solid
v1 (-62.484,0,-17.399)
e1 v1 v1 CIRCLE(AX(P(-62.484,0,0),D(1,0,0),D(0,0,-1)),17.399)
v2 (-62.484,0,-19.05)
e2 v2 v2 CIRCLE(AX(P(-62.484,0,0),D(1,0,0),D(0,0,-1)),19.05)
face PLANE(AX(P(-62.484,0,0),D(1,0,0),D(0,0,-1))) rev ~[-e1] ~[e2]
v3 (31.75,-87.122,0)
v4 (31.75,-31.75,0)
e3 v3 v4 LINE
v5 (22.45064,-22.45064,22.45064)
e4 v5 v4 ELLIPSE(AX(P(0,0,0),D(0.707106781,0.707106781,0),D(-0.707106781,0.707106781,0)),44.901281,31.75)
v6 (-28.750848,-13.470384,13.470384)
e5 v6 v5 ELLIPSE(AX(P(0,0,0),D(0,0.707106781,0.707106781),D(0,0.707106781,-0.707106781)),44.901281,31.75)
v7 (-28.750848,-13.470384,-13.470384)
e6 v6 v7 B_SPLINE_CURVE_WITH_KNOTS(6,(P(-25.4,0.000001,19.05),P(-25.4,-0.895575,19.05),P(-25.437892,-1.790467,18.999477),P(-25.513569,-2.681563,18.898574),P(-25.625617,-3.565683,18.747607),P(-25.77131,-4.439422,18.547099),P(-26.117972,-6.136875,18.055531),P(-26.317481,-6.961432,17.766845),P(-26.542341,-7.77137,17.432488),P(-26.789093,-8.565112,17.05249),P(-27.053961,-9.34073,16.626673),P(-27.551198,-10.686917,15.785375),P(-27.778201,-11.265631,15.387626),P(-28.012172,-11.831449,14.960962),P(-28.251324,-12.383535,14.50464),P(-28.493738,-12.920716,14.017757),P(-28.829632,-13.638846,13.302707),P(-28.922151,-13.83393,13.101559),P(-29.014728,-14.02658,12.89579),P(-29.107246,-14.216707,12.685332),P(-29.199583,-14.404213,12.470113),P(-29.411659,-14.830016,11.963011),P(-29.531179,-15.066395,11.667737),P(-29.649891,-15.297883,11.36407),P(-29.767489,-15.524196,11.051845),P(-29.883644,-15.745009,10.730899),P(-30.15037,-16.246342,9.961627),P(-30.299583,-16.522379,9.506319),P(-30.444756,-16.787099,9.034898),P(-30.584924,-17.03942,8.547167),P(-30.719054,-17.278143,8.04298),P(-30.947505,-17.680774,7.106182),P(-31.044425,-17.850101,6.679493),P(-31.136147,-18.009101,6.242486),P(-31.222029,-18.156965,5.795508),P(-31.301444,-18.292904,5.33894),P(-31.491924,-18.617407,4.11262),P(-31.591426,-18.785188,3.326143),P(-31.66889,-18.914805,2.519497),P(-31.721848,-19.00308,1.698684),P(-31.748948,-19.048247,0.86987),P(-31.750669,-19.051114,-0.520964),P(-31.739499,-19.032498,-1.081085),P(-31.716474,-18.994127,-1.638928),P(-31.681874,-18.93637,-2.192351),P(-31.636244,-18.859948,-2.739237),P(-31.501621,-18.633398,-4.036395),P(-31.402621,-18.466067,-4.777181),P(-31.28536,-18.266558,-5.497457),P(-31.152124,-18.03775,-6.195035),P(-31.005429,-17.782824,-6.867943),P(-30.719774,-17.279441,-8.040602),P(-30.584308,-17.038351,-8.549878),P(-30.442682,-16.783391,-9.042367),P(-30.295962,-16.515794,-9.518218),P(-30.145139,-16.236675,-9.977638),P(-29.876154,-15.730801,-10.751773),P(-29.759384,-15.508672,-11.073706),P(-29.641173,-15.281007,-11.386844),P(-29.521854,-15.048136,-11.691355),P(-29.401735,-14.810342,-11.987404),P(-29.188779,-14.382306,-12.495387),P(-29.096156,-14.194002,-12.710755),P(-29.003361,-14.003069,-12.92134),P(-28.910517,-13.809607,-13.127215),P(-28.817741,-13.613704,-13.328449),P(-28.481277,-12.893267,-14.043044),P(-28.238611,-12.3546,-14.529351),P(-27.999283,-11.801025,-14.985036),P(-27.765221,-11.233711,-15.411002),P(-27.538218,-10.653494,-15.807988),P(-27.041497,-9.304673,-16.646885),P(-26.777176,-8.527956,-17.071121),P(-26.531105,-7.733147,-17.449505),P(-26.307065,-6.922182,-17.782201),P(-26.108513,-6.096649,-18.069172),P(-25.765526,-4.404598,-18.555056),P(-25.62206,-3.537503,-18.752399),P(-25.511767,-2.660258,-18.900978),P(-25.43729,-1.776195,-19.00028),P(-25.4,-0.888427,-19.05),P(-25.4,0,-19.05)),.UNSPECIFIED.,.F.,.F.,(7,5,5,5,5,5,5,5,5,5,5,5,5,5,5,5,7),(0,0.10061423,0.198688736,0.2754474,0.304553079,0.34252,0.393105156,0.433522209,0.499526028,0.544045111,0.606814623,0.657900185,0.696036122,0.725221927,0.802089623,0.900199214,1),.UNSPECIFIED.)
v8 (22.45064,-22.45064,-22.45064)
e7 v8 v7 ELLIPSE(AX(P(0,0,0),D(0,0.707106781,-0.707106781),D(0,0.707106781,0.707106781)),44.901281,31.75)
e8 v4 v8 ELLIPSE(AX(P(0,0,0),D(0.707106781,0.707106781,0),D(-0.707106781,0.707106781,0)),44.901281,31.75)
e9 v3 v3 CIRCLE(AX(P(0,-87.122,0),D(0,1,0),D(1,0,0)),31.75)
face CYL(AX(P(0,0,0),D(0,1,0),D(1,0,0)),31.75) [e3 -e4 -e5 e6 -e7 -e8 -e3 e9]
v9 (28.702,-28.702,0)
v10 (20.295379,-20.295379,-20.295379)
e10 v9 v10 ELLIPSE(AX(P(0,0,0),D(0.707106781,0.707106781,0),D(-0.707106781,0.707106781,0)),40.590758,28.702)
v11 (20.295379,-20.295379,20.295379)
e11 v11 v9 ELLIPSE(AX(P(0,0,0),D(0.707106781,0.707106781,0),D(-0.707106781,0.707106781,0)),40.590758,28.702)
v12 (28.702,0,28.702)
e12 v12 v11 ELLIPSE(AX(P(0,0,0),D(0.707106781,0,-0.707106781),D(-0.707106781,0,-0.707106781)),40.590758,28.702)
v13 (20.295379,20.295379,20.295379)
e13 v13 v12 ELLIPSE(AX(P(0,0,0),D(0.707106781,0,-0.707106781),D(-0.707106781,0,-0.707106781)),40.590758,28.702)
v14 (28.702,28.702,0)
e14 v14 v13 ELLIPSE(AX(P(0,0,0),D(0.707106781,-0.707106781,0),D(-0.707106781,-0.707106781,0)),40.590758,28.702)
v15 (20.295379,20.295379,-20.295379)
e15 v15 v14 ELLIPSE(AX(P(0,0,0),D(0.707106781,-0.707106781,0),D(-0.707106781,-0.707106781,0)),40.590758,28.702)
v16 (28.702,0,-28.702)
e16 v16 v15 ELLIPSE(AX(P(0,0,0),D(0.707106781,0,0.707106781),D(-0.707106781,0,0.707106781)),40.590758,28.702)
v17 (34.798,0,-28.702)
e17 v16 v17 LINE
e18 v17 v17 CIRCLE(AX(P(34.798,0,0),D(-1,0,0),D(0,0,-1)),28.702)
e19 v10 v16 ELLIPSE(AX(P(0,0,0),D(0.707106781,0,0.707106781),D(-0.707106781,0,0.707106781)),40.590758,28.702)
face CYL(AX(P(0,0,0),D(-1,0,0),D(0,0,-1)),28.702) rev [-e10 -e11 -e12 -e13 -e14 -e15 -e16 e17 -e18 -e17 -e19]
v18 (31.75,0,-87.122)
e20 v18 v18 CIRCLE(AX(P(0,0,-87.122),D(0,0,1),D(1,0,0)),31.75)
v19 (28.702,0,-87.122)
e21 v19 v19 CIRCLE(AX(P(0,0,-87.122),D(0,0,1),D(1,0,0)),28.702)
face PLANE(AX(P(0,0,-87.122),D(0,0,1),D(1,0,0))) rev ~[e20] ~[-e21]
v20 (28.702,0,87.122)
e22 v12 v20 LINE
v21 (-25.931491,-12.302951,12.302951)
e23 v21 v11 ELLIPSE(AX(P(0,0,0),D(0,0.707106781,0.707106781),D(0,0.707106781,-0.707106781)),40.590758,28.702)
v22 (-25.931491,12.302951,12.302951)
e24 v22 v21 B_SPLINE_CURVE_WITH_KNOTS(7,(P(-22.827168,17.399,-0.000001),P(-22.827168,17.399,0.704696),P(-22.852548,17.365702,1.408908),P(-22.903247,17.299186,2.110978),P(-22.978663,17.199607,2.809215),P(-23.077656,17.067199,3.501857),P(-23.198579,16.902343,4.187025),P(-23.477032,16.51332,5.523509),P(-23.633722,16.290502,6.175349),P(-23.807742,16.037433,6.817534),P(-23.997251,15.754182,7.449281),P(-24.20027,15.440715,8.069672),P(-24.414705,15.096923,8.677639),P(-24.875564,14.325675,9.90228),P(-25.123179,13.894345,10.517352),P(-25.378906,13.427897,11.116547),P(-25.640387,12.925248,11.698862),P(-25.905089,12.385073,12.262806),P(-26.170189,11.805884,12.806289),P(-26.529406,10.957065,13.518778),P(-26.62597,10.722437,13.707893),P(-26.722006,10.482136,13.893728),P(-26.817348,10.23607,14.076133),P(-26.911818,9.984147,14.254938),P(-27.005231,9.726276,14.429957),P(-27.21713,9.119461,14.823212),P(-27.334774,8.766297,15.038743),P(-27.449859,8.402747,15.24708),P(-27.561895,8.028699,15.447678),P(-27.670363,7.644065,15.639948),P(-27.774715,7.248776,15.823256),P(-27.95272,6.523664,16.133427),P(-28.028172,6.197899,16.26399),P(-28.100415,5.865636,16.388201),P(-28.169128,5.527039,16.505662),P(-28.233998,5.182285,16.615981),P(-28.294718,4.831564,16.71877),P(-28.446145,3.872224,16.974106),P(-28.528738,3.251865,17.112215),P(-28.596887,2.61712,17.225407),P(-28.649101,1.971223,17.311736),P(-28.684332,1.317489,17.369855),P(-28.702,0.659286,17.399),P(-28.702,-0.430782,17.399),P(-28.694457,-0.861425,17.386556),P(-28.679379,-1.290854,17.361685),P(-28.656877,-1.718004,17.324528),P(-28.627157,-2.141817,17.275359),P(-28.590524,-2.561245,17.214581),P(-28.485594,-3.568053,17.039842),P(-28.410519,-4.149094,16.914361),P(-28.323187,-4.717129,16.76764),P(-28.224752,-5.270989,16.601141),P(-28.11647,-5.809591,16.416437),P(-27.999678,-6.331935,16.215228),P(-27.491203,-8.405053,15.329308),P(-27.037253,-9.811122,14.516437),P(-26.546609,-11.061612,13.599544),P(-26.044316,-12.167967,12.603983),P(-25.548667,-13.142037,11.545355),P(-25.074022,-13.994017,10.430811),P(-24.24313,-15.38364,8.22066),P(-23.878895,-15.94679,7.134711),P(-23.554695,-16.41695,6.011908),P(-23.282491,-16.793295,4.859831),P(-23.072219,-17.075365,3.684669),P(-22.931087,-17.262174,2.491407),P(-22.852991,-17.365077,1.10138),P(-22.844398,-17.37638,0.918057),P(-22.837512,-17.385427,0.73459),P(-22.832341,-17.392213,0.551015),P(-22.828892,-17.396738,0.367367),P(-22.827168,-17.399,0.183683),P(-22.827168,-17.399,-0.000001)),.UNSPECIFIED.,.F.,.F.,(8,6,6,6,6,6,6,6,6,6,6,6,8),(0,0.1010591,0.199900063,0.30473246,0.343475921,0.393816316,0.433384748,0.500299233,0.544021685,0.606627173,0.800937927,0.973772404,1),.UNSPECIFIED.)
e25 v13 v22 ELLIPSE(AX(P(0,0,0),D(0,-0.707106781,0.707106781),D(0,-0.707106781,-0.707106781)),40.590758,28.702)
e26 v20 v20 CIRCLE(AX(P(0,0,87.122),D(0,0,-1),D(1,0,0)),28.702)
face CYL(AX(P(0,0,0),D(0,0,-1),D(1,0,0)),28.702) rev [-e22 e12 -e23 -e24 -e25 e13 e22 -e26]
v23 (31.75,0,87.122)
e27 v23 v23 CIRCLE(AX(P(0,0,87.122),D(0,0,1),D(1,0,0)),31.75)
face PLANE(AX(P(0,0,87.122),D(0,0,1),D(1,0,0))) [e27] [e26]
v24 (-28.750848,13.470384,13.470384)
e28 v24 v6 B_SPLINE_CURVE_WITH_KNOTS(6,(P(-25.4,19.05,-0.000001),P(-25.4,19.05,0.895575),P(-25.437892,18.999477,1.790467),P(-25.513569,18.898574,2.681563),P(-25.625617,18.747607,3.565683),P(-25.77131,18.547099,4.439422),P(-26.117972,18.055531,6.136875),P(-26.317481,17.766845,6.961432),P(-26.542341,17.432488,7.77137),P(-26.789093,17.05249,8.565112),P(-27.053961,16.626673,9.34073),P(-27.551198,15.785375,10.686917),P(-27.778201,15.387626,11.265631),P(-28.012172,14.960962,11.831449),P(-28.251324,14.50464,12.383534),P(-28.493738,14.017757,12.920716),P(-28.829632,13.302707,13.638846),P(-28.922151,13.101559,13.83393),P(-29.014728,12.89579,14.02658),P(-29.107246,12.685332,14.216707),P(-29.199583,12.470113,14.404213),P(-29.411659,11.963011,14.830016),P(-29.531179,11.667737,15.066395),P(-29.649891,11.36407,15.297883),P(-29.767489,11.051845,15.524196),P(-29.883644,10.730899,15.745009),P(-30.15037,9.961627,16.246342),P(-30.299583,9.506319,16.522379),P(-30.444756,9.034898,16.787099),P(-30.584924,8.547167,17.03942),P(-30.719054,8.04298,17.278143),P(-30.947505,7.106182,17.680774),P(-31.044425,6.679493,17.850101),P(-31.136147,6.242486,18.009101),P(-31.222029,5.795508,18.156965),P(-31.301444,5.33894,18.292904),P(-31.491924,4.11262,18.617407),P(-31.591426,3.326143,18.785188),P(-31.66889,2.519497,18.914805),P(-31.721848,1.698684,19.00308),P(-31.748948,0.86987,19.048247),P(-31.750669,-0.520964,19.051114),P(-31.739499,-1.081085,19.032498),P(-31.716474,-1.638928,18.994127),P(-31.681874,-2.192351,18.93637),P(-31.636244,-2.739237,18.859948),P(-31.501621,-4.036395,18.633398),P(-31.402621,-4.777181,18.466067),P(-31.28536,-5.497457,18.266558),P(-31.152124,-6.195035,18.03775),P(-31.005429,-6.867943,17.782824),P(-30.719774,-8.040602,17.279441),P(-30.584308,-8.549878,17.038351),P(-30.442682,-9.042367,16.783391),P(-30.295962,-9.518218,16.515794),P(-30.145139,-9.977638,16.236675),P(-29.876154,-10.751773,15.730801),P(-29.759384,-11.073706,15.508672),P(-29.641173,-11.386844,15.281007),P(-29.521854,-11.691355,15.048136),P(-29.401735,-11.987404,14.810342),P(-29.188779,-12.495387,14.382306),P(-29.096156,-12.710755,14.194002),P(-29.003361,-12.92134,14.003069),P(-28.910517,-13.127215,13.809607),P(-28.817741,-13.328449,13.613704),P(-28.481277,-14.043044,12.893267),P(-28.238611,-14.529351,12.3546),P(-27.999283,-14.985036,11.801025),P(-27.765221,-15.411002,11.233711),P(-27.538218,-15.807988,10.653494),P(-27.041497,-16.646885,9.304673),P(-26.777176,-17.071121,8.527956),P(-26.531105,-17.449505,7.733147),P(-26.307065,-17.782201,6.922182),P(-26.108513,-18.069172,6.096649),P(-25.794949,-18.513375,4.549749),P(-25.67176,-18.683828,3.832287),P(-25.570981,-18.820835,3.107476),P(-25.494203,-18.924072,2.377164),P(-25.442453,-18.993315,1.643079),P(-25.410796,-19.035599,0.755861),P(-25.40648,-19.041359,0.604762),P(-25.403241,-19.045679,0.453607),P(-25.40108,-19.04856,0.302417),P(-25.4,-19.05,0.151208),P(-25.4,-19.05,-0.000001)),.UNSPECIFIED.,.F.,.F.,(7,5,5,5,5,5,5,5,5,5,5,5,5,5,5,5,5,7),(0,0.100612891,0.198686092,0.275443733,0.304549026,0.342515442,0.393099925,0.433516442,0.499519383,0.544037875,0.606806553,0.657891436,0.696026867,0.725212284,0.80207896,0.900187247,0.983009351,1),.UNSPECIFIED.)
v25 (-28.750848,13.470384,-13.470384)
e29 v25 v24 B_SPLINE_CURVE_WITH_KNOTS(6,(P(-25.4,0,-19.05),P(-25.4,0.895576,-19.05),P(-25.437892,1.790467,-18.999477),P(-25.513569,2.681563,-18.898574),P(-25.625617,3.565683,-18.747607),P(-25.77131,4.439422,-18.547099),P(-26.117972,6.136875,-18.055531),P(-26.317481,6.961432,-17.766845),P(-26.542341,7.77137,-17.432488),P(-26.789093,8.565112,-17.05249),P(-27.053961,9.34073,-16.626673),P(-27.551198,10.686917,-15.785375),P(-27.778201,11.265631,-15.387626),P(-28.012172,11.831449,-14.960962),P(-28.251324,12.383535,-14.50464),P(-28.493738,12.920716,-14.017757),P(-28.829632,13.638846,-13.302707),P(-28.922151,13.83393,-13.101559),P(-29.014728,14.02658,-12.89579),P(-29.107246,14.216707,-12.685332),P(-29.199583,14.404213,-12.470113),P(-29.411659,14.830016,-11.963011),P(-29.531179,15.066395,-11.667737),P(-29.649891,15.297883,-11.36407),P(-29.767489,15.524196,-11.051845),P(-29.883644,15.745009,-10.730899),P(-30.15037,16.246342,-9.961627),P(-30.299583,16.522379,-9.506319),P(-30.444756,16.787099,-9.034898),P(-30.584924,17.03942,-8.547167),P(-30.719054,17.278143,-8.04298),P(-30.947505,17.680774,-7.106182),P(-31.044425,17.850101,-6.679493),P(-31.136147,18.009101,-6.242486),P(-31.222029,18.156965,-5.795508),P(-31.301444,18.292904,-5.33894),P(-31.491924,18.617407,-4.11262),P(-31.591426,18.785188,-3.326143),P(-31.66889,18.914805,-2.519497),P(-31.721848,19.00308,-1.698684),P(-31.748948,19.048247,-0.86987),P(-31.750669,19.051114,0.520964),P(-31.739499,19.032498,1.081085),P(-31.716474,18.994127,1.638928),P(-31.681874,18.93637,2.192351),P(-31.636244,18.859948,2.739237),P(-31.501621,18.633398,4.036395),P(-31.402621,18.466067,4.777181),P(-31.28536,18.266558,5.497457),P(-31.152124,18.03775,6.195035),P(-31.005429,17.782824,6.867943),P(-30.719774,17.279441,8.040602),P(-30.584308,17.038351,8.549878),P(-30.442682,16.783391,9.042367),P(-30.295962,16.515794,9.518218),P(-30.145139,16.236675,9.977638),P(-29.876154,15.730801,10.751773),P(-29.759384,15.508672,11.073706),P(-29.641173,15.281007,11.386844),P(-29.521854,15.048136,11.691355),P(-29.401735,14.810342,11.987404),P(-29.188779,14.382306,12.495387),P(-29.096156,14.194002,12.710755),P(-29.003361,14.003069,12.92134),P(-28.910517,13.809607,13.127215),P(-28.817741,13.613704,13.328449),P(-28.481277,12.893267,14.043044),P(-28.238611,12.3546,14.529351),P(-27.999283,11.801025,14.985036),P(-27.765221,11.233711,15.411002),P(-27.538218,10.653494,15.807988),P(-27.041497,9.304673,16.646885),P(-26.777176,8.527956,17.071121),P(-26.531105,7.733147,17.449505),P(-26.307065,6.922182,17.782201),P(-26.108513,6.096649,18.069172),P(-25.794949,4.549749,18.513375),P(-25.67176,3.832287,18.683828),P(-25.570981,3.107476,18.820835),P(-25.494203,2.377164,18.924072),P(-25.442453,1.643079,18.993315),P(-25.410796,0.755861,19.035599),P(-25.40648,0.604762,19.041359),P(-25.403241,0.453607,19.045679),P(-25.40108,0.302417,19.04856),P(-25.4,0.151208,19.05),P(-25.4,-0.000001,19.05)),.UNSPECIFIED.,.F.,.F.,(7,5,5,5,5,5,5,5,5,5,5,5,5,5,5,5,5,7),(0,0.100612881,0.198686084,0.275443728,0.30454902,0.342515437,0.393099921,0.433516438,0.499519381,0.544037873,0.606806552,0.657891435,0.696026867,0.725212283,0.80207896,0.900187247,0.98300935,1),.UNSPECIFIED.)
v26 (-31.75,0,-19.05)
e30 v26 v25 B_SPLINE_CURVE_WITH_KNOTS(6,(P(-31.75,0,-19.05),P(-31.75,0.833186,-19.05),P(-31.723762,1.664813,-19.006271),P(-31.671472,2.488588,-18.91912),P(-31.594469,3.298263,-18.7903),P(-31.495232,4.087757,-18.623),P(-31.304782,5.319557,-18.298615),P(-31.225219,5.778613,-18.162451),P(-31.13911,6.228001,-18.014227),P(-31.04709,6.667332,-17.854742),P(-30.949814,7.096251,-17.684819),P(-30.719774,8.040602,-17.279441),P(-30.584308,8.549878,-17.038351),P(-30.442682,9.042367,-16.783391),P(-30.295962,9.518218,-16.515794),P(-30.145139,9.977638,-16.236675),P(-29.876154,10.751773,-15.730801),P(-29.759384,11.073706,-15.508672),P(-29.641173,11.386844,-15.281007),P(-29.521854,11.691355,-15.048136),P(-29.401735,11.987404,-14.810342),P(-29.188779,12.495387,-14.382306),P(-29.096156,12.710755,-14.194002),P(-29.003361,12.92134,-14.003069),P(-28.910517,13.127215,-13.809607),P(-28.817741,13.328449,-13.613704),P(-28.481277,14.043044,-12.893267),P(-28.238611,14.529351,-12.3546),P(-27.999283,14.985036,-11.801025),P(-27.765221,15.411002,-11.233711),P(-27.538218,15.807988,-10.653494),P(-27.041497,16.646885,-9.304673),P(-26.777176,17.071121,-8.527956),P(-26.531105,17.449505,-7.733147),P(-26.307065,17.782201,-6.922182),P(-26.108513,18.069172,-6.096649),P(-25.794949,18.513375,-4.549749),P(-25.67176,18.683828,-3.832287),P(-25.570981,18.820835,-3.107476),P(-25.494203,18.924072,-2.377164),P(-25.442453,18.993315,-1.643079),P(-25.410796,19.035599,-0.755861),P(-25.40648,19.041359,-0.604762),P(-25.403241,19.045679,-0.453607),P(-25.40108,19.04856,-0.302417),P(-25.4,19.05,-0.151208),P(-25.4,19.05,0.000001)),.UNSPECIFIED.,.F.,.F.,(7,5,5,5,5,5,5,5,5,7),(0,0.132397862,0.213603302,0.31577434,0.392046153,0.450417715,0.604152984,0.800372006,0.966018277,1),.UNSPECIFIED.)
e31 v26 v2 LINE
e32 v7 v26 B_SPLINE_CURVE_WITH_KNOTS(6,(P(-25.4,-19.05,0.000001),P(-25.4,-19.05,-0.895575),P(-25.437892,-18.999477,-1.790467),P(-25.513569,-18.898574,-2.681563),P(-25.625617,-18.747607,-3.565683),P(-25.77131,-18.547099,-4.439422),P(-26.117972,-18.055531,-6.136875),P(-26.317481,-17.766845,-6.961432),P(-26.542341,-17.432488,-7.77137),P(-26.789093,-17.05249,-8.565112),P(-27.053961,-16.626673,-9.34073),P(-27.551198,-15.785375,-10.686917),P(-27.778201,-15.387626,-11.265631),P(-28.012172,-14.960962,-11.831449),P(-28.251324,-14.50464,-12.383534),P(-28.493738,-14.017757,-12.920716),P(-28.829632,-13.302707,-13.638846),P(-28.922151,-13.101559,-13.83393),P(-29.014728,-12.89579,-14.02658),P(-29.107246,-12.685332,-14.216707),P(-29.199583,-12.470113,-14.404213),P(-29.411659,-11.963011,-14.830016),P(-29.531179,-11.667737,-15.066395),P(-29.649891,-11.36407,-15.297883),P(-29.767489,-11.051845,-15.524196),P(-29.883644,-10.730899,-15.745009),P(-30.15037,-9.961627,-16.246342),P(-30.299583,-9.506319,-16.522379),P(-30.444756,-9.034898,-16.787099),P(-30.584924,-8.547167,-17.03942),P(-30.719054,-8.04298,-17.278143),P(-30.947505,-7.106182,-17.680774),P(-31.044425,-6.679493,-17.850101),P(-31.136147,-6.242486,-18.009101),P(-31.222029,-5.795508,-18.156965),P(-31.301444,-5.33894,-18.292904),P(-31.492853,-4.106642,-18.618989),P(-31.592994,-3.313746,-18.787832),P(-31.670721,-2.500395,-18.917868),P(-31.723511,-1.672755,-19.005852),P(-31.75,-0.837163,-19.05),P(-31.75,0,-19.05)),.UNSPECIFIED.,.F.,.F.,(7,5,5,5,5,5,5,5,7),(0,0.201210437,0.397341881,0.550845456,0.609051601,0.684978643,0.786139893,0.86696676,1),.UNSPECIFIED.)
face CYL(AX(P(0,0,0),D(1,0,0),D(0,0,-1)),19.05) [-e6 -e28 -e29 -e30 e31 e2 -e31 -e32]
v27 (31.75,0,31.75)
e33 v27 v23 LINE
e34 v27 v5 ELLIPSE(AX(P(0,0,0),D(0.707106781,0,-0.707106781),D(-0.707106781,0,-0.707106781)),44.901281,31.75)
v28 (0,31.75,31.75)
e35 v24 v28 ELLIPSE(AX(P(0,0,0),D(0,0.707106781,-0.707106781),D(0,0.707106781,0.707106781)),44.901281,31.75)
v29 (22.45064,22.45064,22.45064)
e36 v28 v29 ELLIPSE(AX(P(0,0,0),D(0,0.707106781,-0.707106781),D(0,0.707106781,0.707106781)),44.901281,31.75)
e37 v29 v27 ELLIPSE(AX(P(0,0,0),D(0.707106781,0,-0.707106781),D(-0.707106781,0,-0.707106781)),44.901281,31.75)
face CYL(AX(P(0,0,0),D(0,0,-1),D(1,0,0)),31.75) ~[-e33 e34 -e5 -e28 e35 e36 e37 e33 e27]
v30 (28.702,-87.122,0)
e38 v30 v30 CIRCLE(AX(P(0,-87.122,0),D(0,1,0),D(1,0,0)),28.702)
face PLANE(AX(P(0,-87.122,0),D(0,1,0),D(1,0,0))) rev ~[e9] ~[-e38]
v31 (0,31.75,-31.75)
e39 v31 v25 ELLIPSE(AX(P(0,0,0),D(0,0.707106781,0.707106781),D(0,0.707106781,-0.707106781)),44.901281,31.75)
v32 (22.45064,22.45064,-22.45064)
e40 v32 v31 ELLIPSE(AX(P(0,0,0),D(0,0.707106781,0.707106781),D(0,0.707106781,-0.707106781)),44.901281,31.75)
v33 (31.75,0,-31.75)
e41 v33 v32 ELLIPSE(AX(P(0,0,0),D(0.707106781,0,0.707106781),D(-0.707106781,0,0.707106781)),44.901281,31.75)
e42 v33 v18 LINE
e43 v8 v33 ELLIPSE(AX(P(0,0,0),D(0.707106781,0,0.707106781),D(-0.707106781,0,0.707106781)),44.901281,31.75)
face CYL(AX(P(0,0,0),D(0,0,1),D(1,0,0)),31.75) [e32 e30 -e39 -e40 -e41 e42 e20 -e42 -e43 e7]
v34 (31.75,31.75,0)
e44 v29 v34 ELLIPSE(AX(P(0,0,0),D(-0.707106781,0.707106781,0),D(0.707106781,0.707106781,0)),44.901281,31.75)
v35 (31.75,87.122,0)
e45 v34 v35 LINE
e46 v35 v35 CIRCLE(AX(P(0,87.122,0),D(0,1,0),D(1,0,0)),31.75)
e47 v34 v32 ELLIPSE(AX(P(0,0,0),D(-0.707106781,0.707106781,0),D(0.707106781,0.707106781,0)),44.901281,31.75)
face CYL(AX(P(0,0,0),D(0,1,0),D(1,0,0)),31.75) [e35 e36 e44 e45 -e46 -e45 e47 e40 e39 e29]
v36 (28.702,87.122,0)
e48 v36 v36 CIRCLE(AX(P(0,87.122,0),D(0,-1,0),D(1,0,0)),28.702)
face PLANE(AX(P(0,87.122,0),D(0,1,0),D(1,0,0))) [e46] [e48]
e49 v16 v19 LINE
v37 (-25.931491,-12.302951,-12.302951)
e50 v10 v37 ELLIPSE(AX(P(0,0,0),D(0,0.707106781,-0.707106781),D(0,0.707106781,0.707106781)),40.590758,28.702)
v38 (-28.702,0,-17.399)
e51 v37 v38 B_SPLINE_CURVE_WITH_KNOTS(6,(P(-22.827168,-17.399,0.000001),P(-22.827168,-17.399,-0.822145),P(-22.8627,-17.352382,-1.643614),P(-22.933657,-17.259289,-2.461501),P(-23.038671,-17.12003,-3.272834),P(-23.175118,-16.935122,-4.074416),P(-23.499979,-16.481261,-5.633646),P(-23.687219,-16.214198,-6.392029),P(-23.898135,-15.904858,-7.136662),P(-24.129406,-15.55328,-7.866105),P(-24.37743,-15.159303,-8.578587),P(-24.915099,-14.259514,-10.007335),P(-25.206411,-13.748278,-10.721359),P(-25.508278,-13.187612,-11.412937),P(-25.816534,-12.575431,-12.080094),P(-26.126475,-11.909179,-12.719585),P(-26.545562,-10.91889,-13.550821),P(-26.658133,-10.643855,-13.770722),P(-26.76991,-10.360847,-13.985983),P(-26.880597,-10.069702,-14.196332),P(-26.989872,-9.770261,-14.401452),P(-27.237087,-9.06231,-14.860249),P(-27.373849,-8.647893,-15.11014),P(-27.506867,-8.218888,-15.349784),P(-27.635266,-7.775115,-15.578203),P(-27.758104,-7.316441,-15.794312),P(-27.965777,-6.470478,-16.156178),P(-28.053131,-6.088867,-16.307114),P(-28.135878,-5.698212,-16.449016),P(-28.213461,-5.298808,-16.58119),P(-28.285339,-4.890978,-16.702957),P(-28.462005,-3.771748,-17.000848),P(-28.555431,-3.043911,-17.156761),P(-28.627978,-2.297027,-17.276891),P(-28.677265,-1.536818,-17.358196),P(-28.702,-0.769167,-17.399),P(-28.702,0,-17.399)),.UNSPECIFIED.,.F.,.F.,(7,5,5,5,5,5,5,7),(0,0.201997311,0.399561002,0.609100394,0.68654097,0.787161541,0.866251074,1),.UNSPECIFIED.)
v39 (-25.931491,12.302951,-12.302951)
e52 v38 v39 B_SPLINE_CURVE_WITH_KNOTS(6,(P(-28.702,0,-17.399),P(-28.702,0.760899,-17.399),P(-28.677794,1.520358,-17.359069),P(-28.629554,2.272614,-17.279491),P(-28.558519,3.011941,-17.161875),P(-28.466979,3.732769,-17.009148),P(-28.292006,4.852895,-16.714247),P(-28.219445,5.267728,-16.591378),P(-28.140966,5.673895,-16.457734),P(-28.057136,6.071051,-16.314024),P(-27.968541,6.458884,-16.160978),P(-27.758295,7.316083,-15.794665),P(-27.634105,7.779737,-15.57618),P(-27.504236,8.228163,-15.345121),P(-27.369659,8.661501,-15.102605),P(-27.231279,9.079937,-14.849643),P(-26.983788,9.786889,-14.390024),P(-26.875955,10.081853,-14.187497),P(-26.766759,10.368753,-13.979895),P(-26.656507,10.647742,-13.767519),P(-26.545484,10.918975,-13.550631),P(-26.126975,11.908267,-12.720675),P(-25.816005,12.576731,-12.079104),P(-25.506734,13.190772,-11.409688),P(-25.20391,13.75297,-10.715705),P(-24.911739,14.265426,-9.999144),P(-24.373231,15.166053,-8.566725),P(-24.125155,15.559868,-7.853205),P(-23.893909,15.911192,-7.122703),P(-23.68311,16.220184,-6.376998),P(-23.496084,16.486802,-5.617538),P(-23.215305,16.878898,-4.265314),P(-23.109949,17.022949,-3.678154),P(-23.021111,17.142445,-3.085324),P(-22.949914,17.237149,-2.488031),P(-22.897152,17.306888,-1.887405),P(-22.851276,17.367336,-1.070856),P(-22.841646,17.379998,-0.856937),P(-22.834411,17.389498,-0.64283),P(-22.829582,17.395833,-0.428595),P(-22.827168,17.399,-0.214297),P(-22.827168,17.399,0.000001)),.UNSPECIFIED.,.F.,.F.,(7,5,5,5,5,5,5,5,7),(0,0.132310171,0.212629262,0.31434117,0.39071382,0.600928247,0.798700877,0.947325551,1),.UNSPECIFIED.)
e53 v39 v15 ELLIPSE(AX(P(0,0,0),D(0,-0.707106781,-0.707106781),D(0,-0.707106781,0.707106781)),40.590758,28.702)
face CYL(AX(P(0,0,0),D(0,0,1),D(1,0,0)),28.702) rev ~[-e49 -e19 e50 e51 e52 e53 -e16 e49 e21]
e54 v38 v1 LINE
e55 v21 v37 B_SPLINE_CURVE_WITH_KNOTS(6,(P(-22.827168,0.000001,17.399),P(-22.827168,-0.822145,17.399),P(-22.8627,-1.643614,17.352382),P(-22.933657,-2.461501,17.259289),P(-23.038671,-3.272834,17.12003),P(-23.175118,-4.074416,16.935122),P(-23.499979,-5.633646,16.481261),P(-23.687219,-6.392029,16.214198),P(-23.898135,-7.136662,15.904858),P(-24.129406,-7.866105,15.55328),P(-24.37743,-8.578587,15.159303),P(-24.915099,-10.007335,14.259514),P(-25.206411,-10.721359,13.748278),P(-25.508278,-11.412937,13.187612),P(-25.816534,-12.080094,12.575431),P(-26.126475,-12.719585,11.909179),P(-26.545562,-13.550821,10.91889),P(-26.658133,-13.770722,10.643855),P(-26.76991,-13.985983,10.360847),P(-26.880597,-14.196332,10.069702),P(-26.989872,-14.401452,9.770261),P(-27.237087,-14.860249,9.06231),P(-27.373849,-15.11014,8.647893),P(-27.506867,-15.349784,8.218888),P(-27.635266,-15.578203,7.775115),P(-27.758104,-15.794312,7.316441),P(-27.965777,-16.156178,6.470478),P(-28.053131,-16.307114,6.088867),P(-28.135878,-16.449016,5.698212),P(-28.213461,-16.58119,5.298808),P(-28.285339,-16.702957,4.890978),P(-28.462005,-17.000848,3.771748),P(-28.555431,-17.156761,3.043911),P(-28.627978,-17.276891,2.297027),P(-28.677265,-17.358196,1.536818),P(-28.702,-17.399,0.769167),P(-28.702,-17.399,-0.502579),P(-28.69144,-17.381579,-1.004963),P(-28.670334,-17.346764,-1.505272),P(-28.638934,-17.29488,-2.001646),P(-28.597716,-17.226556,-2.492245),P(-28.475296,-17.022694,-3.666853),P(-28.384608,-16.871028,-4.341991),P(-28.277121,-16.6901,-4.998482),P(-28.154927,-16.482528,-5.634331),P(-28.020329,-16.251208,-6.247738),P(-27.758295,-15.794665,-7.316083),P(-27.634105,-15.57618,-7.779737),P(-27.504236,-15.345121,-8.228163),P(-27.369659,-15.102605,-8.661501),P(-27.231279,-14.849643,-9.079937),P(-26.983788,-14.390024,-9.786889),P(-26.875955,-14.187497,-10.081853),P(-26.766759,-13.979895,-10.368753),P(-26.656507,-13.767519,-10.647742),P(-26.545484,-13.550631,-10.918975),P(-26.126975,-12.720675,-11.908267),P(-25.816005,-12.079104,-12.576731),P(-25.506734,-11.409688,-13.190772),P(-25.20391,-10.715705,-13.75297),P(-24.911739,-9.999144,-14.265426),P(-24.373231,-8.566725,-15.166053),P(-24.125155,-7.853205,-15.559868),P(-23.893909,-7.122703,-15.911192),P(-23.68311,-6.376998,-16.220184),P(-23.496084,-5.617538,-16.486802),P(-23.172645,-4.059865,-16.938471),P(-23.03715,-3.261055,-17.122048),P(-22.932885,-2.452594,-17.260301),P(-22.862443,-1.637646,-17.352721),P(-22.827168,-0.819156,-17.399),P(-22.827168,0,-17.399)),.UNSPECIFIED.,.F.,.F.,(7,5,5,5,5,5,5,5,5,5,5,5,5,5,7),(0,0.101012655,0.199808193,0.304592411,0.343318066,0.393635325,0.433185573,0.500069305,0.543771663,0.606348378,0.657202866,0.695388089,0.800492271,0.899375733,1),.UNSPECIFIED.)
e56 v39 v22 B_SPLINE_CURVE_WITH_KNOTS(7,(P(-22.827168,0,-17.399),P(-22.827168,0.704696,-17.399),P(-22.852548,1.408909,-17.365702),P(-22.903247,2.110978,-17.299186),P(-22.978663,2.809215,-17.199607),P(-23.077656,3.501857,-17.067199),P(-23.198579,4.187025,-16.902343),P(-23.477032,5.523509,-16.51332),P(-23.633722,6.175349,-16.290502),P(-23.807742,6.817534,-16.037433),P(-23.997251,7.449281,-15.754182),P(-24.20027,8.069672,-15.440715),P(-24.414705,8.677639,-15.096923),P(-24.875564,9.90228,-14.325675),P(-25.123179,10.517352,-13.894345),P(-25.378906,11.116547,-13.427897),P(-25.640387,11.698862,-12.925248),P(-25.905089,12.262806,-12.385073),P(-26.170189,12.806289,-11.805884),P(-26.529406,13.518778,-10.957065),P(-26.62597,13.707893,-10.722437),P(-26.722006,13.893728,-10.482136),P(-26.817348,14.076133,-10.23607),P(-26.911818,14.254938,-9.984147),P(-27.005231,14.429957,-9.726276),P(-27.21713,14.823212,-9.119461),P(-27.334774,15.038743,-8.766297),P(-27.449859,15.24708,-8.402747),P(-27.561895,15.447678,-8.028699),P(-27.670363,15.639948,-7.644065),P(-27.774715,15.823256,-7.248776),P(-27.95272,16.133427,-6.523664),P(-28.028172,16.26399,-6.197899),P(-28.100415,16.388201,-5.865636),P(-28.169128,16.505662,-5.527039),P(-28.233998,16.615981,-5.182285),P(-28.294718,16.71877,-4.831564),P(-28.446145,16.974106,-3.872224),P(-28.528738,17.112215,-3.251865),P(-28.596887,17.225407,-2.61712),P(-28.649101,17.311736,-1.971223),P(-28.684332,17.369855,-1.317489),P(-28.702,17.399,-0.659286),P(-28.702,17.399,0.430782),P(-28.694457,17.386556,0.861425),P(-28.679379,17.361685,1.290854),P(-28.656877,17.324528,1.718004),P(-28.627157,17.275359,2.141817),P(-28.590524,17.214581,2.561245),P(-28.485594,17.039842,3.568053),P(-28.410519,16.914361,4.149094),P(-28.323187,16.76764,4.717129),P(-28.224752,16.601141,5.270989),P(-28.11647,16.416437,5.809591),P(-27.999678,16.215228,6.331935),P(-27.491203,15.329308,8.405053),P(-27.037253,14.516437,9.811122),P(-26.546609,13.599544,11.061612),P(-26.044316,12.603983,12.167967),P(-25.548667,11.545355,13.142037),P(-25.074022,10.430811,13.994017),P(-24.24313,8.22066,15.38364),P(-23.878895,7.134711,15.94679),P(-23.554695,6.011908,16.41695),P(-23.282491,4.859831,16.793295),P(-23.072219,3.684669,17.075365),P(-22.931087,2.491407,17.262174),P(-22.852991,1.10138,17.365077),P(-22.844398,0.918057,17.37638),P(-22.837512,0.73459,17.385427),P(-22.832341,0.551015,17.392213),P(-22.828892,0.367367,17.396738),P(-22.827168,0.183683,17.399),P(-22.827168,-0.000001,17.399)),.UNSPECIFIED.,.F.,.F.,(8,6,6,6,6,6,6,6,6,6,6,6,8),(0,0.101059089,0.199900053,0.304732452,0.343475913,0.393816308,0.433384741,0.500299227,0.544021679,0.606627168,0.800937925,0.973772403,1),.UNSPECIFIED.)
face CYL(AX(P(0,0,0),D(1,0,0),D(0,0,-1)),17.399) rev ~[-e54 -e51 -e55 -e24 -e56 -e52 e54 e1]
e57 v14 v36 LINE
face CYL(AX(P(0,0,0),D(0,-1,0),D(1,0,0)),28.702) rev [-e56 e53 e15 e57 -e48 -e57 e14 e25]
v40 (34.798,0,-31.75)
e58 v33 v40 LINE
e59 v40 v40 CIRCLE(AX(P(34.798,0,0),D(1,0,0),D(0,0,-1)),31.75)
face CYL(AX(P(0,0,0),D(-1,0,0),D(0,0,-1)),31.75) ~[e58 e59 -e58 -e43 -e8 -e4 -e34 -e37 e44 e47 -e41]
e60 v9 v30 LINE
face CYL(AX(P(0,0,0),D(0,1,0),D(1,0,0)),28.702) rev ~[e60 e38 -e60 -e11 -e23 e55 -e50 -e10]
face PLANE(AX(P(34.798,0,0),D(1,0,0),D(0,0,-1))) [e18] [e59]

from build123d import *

# Parameters (mm, degrees)
SKETCH1_R               = 31.75
EXTRUDE3_DEPTH          = 87.122
EXTRUDE3_DEPTH_BACK     = 87.122
SKETCH4_R               = 31.75
EXTRUDE4_DEPTH          = 87.122
EXTRUDE4_DEPTH_BACK     = 87.122
SKETCH6_R               = 31.75
EXTRUDE5_DEPTH          = 34.798
SKETCH7_R               = 19.05
EXTRUDE6_DEPTH          = 62.484
SKETCH9_R               = 28.702
CUT_EXTRUDE1_DEPTH      = 88.1220001
CUT_EXTRUDE1_DEPTH_BACK = 88.1220001
SKETCH10_R              = 28.702
CUT_EXTRUDE2_DEPTH      = 88.1220001
CUT_EXTRUDE2_DEPTH_BACK = 88.1220001
SKETCH11_R              = 28.702
CUT_EXTRUDE3_DEPTH      = 35.798
SKETCH12_R              = 17.399
CUT_EXTRUDE4_DEPTH      = 63.4840001


with BuildPart() as part:
    # Sketch1 → Extrude3 (new body, two sides)
    with BuildSketch(Plane(origin=(0, 0, 0), x_dir=(1, 0, 0), z_dir=(0, 1, 0))) as extrude3_sk:
        Circle(SKETCH1_R)
    extrude(amount=EXTRUDE3_DEPTH)
    extrude(extrude3_sk.sketch, amount=-EXTRUDE3_DEPTH_BACK)

    # Sketch4 → Extrude4 (add, two sides)
    with BuildSketch(Plane.XY) as extrude4_sk:
        Circle(SKETCH4_R)
    extrude(amount=EXTRUDE4_DEPTH)
    extrude(extrude4_sk.sketch, amount=-EXTRUDE4_DEPTH_BACK)

    # Sketch6 → Extrude5 (add)
    with BuildSketch(Plane(origin=(0, 0, 0), x_dir=(0, 0, -1), z_dir=(1, 0, 0))):
        Circle(SKETCH6_R)
    extrude(amount=EXTRUDE5_DEPTH)

    # Sketch7 → Extrude6 (add)
    with BuildSketch(Plane(origin=(0, 0, 0), x_dir=(0, 0, -1), z_dir=(1, 0, 0))):
        Circle(SKETCH7_R)
    extrude(amount=-EXTRUDE6_DEPTH)

    # Sketch9 → Cut-Extrude1 (cut, two sides)
    with BuildSketch(Plane(origin=(0, 0, 0), x_dir=(1, 0, 0), z_dir=(0, 1, 0))) as cut_extrude1_sk:
        Circle(SKETCH9_R)
    extrude(amount=CUT_EXTRUDE1_DEPTH, mode=Mode.SUBTRACT)
    extrude(cut_extrude1_sk.sketch, amount=-CUT_EXTRUDE1_DEPTH_BACK, mode=Mode.SUBTRACT)

    # Sketch10 → Cut-Extrude2 (cut, two sides)
    with BuildSketch(Plane.XY) as cut_extrude2_sk:
        Circle(SKETCH10_R)
    extrude(amount=CUT_EXTRUDE2_DEPTH, mode=Mode.SUBTRACT)
    extrude(cut_extrude2_sk.sketch, amount=-CUT_EXTRUDE2_DEPTH_BACK, mode=Mode.SUBTRACT)

    # Sketch11 → Cut-Extrude3 (cut, through all)
    with BuildSketch(Plane(origin=(0, 0, 0), x_dir=(0, 0, -1), z_dir=(1, 0, 0))):
        Circle(SKETCH11_R)
    extrude(amount=CUT_EXTRUDE3_DEPTH, mode=Mode.SUBTRACT)

    # Sketch12 → Cut-Extrude4 (cut, through all)
    with BuildSketch(Plane(origin=(0, 0, 0), x_dir=(0, 0, -1), z_dir=(1, 0, 0))):
        Circle(SKETCH12_R)
    extrude(amount=-CUT_EXTRUDE4_DEPTH, mode=Mode.SUBTRACT)


solid = part.part
